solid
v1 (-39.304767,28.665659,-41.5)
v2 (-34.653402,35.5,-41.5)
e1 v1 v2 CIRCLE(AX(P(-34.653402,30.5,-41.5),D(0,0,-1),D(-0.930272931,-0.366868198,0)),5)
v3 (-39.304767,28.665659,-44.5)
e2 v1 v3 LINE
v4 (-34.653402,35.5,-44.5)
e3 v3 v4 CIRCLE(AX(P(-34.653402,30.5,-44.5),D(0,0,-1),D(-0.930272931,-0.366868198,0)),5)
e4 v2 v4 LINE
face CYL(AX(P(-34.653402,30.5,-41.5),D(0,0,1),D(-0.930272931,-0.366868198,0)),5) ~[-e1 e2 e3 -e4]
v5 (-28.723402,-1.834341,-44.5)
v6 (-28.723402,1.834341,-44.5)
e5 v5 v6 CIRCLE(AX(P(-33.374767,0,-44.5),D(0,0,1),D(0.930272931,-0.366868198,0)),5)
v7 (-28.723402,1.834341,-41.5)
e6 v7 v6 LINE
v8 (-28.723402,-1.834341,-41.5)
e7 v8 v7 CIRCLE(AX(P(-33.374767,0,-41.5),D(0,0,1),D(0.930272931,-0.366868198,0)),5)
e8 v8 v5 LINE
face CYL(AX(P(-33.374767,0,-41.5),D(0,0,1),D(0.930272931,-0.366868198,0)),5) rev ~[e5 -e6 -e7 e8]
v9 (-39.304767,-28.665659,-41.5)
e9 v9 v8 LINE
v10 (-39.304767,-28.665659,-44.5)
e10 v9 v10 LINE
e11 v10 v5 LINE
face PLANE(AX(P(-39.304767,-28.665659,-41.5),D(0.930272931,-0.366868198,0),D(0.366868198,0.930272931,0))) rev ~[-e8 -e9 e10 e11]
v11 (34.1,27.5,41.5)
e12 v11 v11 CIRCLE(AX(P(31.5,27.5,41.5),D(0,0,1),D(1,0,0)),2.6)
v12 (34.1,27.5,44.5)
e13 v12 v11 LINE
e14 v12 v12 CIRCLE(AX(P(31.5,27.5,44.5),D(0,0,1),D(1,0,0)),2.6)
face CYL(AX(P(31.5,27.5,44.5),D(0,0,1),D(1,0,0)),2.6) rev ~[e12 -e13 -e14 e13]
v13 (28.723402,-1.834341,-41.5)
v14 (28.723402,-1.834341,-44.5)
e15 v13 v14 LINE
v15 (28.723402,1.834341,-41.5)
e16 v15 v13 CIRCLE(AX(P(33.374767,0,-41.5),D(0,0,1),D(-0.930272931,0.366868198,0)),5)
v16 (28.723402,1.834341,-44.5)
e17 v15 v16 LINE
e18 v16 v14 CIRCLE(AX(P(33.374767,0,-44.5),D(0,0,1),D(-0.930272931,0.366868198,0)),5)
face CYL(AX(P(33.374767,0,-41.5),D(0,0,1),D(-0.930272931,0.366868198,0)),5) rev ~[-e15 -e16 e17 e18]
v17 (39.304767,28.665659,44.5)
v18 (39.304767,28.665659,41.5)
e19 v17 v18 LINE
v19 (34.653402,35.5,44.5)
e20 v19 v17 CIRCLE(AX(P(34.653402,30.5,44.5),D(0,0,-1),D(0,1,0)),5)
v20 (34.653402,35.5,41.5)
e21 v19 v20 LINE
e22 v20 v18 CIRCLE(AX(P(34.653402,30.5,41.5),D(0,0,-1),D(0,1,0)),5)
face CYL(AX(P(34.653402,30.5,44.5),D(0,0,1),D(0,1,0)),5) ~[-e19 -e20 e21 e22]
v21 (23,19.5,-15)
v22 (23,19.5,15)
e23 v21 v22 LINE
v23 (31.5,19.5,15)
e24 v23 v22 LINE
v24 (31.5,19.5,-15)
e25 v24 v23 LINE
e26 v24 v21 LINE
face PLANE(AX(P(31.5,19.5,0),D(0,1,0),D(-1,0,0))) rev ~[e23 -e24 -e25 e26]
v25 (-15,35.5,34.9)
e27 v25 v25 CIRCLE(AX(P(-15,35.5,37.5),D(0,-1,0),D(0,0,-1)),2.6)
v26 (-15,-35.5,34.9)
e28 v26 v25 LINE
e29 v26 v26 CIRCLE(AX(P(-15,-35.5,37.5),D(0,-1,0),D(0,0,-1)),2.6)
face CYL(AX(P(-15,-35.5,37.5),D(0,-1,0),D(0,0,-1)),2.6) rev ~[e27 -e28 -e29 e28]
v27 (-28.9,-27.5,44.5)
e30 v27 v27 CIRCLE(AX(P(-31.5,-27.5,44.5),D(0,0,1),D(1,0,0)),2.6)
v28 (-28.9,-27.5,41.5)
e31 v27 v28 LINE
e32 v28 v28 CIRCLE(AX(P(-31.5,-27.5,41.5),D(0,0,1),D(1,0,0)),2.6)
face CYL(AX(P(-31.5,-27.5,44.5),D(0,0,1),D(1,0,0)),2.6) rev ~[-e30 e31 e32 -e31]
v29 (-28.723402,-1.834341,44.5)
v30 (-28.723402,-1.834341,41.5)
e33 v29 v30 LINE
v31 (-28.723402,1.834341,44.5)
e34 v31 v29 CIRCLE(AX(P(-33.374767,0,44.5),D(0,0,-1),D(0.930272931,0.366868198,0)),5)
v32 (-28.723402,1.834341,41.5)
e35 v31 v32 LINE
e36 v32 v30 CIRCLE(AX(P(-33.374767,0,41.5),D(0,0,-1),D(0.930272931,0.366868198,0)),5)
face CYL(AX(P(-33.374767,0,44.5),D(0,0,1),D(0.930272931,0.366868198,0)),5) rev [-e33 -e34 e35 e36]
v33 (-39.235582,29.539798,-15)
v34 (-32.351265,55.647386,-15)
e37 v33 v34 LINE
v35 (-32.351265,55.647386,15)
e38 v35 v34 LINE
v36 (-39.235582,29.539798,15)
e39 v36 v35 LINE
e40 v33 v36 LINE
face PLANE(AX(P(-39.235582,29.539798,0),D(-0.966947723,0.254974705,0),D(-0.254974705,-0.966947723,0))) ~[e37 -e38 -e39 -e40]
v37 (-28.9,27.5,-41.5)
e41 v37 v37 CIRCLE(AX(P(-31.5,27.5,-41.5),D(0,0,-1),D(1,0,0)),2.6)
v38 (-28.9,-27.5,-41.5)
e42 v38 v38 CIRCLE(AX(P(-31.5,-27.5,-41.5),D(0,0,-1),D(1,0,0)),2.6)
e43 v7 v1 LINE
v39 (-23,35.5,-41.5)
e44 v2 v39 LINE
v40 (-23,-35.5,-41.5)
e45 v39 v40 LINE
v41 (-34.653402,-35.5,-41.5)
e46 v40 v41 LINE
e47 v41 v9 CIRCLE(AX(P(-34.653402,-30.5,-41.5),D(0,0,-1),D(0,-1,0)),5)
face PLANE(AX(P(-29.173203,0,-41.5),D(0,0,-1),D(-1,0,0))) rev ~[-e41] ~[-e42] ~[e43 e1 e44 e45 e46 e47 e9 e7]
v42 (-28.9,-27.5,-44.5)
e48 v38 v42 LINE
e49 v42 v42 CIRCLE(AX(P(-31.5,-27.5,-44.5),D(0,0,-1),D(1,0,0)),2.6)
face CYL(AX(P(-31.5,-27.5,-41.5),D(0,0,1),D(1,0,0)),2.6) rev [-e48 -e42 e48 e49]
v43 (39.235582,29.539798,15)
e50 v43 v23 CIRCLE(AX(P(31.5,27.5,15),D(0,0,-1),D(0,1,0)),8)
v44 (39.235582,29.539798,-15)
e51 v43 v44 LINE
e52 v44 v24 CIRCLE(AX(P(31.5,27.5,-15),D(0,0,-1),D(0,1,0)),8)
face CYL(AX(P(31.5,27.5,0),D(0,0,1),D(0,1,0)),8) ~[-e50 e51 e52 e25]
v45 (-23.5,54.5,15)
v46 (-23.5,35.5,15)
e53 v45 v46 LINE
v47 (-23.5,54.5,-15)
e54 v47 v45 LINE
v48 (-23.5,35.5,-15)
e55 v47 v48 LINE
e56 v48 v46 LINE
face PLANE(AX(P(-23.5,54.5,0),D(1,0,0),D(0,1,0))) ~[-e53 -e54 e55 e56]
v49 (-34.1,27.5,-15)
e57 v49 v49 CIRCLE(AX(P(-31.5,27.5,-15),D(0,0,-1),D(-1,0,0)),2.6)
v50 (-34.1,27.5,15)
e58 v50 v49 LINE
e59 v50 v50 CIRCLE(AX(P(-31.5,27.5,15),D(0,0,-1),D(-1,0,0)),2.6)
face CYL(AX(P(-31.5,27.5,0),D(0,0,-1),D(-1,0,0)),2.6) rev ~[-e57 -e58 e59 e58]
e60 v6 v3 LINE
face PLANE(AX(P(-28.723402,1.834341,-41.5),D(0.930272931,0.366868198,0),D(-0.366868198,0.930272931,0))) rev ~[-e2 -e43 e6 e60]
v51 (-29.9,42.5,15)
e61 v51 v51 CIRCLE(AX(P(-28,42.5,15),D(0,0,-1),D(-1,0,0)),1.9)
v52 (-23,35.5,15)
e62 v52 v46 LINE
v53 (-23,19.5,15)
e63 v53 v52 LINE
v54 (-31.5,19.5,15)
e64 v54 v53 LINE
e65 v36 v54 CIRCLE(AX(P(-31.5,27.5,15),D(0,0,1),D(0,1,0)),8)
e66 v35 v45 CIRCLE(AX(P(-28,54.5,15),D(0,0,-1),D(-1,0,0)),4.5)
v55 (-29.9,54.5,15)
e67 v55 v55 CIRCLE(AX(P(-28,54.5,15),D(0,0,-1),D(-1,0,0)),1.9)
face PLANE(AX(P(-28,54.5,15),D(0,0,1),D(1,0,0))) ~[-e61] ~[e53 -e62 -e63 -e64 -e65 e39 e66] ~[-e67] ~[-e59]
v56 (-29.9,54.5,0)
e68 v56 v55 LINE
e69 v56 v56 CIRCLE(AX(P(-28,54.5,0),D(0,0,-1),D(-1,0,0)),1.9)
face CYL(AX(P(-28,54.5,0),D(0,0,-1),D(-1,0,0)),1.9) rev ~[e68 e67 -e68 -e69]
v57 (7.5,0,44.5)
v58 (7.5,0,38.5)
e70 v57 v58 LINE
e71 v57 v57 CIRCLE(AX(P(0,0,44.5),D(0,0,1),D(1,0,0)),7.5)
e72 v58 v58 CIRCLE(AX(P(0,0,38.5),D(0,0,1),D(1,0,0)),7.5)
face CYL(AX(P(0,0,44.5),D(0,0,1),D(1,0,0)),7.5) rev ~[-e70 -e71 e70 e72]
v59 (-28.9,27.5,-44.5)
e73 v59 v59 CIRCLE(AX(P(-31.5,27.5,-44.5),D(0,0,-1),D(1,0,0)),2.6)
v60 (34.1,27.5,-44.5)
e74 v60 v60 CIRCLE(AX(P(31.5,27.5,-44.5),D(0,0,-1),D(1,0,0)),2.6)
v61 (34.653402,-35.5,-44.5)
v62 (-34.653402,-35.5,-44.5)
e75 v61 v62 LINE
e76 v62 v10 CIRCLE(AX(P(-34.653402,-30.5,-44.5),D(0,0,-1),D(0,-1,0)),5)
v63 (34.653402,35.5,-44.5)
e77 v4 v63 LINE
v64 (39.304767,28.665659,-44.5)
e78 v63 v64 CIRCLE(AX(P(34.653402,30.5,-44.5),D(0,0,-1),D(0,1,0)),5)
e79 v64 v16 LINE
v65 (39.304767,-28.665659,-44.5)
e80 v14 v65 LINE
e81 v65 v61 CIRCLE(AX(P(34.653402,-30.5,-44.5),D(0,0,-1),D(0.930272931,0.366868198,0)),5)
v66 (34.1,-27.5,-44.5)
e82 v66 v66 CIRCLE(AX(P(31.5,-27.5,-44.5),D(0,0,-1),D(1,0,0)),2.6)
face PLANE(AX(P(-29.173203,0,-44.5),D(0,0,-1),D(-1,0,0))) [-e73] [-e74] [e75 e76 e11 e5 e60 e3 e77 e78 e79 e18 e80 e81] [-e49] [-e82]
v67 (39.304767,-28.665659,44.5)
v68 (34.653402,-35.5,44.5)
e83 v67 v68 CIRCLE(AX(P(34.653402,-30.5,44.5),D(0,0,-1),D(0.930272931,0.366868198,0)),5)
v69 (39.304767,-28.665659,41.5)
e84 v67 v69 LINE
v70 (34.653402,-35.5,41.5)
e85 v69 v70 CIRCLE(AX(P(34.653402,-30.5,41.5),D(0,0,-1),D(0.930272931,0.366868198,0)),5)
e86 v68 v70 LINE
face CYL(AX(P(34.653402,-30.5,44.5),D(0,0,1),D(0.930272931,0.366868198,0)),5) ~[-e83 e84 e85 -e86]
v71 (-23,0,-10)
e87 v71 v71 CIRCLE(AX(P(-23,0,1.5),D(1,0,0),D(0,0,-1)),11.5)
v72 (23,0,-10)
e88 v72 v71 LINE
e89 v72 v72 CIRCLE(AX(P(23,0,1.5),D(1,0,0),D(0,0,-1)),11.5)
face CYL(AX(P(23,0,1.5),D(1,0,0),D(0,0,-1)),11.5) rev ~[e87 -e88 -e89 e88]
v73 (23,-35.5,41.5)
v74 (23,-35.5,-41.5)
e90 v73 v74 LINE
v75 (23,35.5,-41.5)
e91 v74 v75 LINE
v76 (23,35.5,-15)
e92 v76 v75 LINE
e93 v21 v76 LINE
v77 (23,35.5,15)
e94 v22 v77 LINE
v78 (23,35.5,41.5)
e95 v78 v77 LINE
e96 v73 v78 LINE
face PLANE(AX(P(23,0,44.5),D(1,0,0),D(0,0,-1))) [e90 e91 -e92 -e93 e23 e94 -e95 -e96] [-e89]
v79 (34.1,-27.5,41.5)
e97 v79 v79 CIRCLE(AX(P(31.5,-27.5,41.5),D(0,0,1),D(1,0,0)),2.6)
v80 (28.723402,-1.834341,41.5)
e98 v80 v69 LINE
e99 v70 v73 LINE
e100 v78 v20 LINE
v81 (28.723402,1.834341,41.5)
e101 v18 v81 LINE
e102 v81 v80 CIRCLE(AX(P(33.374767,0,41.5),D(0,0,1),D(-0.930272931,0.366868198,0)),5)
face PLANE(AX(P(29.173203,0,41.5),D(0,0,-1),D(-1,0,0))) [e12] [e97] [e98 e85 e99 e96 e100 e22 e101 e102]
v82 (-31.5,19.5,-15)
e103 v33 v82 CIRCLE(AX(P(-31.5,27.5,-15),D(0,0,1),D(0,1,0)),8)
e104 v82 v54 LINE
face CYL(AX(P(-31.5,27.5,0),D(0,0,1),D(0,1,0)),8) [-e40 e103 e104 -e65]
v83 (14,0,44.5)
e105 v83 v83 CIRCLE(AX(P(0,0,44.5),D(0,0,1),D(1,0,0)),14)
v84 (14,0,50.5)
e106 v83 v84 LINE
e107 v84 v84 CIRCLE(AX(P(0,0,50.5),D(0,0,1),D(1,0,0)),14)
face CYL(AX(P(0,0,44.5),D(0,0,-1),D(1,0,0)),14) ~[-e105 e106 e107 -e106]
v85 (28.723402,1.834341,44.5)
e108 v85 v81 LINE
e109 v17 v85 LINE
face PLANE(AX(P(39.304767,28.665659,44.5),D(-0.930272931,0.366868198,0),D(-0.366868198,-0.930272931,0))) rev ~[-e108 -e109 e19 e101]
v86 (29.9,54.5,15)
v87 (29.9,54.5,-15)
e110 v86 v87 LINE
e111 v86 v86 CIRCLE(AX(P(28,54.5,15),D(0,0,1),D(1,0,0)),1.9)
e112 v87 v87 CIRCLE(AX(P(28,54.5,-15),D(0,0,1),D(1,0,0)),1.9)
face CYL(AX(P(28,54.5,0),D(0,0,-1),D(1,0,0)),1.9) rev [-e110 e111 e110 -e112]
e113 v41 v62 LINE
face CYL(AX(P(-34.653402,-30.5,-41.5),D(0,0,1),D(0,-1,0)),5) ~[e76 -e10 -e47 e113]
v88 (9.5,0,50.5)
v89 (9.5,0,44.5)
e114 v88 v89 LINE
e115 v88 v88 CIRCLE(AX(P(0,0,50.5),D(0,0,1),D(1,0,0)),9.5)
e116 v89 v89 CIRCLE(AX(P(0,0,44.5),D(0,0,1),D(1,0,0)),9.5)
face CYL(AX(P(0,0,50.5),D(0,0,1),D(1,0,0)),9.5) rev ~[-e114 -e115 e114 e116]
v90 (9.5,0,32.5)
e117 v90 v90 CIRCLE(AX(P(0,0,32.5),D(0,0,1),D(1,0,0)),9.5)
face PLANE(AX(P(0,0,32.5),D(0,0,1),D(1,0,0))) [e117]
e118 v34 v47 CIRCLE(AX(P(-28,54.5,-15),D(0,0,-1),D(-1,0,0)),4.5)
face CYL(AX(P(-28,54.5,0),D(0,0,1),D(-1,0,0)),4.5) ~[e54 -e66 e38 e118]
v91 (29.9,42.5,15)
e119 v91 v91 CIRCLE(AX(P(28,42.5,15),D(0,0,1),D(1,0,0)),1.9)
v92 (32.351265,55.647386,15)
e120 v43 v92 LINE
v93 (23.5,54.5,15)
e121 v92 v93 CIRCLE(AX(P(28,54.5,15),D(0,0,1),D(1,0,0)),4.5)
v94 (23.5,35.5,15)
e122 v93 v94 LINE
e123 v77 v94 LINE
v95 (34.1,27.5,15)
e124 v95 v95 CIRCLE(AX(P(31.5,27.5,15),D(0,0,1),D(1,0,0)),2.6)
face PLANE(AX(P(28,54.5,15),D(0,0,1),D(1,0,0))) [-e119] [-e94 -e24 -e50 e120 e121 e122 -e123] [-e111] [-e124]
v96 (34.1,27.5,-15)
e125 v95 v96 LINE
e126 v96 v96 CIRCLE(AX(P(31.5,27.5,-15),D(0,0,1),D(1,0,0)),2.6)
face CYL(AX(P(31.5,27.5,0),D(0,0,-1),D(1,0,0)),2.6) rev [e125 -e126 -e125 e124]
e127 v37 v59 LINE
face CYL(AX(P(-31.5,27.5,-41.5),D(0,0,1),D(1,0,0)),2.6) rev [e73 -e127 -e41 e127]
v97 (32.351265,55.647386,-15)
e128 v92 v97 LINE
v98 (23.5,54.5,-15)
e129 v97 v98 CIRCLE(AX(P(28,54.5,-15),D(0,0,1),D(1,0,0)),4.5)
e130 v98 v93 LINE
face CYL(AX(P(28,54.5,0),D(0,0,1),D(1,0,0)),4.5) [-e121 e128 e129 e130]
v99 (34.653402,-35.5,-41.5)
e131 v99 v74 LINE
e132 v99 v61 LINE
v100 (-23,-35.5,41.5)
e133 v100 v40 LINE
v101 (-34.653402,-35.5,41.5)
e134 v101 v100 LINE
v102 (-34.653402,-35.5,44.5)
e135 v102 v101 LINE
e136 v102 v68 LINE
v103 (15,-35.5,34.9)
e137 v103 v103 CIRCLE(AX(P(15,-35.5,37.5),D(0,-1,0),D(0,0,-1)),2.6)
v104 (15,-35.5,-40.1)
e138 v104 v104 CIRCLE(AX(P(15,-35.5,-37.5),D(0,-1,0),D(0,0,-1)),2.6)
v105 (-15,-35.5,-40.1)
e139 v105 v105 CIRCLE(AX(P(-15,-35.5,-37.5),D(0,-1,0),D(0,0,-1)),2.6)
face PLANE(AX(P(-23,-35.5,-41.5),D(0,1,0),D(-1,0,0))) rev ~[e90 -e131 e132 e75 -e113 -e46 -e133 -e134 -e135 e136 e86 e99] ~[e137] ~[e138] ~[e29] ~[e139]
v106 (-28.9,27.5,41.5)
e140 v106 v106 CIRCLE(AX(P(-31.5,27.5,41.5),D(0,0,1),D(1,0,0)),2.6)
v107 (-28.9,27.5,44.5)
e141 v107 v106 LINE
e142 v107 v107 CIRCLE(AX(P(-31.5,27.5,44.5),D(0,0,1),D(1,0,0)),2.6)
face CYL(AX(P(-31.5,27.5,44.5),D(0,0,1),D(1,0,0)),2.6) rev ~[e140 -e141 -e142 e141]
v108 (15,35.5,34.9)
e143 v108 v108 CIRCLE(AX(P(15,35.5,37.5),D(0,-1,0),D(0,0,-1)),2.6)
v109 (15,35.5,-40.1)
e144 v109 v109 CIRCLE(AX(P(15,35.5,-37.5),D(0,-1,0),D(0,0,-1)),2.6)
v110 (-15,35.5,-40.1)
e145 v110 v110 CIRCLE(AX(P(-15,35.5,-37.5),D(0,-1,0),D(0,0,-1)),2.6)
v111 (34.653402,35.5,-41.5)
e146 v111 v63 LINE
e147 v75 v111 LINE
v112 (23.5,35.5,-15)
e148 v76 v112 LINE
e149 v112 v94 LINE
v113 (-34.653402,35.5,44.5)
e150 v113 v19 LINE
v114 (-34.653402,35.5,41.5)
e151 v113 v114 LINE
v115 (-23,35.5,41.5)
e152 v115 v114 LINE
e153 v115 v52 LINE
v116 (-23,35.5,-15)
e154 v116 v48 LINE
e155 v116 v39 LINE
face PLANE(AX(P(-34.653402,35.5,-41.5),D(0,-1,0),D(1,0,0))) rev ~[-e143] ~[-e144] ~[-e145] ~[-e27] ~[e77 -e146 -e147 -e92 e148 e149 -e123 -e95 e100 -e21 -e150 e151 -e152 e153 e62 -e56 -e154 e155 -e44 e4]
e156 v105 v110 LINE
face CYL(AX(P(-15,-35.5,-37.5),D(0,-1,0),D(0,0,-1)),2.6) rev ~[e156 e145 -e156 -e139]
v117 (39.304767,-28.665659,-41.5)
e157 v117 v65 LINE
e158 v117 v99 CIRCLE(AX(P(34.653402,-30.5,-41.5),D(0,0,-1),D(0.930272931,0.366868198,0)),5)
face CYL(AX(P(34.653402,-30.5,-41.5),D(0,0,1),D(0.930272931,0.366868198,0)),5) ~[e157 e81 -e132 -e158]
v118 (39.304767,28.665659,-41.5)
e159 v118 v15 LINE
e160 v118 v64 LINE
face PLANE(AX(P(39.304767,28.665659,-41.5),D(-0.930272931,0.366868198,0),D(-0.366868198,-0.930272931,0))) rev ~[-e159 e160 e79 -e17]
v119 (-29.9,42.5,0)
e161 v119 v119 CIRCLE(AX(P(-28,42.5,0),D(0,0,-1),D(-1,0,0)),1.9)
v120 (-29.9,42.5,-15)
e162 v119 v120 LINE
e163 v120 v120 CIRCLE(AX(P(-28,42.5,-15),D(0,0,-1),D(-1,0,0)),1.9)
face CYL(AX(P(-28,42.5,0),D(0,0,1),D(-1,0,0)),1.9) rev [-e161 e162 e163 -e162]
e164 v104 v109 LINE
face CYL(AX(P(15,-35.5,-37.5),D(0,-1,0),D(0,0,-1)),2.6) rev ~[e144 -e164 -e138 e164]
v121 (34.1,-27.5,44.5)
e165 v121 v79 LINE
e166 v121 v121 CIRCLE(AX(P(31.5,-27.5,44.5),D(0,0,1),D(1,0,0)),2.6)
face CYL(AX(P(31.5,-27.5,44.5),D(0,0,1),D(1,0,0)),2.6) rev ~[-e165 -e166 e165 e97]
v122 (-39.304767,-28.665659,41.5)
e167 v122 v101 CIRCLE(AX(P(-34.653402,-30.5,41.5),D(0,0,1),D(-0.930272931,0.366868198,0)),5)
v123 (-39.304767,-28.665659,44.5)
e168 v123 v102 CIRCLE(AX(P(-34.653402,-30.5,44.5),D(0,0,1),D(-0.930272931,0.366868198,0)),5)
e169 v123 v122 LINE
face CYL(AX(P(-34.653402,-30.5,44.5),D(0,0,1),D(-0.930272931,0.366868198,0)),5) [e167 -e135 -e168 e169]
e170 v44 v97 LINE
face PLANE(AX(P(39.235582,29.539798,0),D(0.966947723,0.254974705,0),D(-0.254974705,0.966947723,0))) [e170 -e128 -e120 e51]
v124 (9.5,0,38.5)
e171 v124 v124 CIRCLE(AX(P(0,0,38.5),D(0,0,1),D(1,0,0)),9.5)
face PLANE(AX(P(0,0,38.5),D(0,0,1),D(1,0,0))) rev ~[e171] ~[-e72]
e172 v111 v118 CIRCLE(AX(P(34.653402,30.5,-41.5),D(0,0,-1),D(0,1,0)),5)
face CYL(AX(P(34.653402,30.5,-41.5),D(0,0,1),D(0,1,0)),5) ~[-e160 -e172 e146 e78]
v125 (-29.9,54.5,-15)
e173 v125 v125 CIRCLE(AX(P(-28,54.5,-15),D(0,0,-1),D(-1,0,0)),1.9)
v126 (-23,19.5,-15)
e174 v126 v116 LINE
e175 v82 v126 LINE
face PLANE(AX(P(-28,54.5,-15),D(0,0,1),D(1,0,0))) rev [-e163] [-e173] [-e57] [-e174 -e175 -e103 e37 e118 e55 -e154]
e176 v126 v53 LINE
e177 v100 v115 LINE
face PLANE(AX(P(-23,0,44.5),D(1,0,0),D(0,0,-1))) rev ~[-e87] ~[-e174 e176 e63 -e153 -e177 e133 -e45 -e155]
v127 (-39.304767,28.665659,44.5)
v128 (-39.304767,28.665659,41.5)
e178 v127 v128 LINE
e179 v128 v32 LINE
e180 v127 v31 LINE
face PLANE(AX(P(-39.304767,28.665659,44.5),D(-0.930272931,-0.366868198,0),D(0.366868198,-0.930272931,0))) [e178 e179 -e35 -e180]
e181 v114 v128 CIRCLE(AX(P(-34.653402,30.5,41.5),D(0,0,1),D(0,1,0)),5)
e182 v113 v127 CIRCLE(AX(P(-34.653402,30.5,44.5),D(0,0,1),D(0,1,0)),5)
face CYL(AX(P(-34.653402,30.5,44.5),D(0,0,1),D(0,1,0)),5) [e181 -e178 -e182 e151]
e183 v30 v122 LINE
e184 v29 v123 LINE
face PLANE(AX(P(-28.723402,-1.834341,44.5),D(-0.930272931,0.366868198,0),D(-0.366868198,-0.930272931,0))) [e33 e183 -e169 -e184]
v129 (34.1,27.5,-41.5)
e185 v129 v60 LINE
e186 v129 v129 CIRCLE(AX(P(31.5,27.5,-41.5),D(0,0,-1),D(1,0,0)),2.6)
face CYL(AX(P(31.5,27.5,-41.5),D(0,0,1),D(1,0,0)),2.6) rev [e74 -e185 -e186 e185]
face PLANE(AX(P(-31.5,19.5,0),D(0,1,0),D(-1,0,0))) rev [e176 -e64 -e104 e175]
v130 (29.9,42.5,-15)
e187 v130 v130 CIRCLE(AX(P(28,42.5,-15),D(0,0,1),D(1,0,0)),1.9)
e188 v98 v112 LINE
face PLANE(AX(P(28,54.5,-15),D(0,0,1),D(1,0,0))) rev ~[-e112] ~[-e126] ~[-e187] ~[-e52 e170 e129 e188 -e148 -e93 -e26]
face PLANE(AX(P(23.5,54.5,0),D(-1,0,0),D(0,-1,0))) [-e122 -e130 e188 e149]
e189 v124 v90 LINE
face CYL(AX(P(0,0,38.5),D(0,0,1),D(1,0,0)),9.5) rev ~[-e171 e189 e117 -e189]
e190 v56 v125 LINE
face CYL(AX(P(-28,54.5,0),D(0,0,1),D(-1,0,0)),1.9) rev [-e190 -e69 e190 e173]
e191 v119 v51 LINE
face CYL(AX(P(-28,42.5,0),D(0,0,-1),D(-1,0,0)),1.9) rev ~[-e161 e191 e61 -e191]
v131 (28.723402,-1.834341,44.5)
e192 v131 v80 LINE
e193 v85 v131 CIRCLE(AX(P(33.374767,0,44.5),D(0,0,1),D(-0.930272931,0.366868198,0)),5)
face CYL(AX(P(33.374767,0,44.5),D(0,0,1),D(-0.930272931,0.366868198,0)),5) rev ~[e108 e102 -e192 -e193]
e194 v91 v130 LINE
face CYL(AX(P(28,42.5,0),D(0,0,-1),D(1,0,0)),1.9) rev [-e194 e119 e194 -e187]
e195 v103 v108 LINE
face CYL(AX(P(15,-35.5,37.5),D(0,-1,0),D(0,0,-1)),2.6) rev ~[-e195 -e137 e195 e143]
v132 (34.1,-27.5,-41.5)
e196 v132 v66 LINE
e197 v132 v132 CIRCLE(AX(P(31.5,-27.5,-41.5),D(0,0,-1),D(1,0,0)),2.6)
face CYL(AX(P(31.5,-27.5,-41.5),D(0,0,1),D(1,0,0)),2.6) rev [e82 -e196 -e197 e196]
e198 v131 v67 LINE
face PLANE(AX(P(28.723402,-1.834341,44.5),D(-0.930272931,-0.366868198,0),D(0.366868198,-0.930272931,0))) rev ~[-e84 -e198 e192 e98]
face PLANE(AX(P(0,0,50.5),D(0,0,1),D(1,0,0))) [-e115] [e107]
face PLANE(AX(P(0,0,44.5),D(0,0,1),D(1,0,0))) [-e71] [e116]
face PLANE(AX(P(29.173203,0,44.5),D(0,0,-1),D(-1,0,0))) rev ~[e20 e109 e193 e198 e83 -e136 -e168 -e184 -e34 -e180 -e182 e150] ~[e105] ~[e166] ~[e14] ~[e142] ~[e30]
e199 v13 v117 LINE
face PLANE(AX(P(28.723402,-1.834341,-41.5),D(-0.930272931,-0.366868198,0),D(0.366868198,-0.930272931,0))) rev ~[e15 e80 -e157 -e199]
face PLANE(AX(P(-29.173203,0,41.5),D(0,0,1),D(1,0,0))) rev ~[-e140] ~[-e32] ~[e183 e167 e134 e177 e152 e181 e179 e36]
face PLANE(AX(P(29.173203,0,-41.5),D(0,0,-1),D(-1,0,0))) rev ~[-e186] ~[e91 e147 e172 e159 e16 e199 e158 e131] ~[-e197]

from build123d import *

# Parameters (mm, degrees)
SKETCH_1_W          = 46
SKETCH_1_H          = 89
EXTRUDE_1_DEPTH     = 35.5
SKETCH_3_R          = 2.6
EXTRUDE_2_DEPTH     = 3
EXTRUDE_START       = -3
SKETCH_4_R          = 2.6
EXTRUDE_3_DEPTH     = 3
SKETCH_5_R          = 14
EXTRUDE_4_DEPTH     = 6
SKETCH_6_R          = 11.5
CUT_EXTRUDE_1_DEPTH = 88.954242748
SKETCH_7_R          = 2.6
EXTRUDE_5_DEPTH     = 15
SKETCH_8_R          = 1.9
SKETCH_8_R_2        = 4.5
EXTRUDE_6_DEPTH     = 15
SKETCH_9_R          = 2.6
CUT_EXTRUDE_2_DEPTH = 115.249255194
SKETCH_10_R         = 9.5
CUT_EXTRUDE_3_DEPTH = 6
SKETCH_11_R         = 7.5
CUT_EXTRUDE_4_DEPTH = 6
SKETCH_12_R         = 9.5
CUT_EXTRUDE_5_DEPTH = 6


with BuildPart() as part:
    # 草图1 → 凸台-拉伸1 (new, symmetric)
    with BuildSketch(Plane(origin=(0, 0, 0), x_dir=(1, 0, 0), z_dir=(0, 1, 0))):
        Rectangle(SKETCH_1_W, SKETCH_1_H)
    extrude(amount=EXTRUDE_1_DEPTH, both=True)

    # 草图3 → 凸台-拉伸2 (add)
    # profile 1 of 2: a face of its own
    with BuildSketch(Plane.XY.offset(44.5)):
        with BuildLine():
            Line((23, 35.5), (34.653402281, 35.5))
            ThreePointArc((34.653402281, 35.5), (38.786905937, 33.313209471), (39.304766934, 28.66565901))
            Line((39.304766934, 28.66565901), (28.72340208, 1.83434099))
            ThreePointArc((28.72340208, 1.83434099), (28.374766733, 0), (28.72340208, -1.83434099))
            Line((28.72340208, -1.83434099), (39.304766934, -28.66565901))
            ThreePointArc((39.304766934, -28.66565901), (38.786905937, -33.313209471), (34.653402281, -35.5))
            Line((34.653402281, -35.5), (23, -35.5))
            Line((23, -35.5), (23, 35.5))
        make_face()
        with Locations((31.5, 27.5)):
            Circle(SKETCH_3_R, mode=Mode.SUBTRACT)
        with Locations((31.5, -27.5)):
            Circle(SKETCH_3_R, mode=Mode.SUBTRACT)
    # profile 2 of 2: a face of its own
    with BuildSketch(Plane.XY.offset(44.5)):
        with BuildLine():
            Line((-23, -35.5), (-23, 35.5))
            Line((-23, 35.5), (-34.653402281, 35.5))
            ThreePointArc((-34.653402281, 35.5), (-38.786905937, 33.313209471), (-39.304766934, 28.66565901))
            Line((-39.304766934, 28.66565901), (-28.72340208, 1.83434099))
            ThreePointArc((-28.72340208, 1.83434099), (-28.374766733, 0), (-28.72340208, -1.83434099))
            Line((-28.72340208, -1.83434099), (-39.304766934, -28.66565901))
            ThreePointArc((-39.304766934, -28.66565901), (-38.786905937, -33.313209471), (-34.653402281, -35.5))
            Line((-34.653402281, -35.5), (-23, -35.5))
        make_face()
        with Locations((-31.5, -27.5)):
            Circle(SKETCH_3_R, mode=Mode.SUBTRACT)
        with Locations((-31.5, 27.5)):
            Circle(SKETCH_3_R, mode=Mode.SUBTRACT)
    extrude(amount=-EXTRUDE_2_DEPTH)

    # 草图4 → 凸台-拉伸3 (add)
    # profile 1 of 2: a face of its own
    with BuildSketch(Plane(origin=(0, 0, -44.5), x_dir=(-1, 0, 0), z_dir=(0, 0, -1)).offset(EXTRUDE_START)):
        with BuildLine():
            Line((39.304766934, -28.66565901), (28.72340208, -1.83434099))
            ThreePointArc((28.72340208, -1.83434099), (28.374766733, 0), (28.72340208, 1.83434099))
            Line((28.72340208, 1.83434099), (39.304766934, 28.66565901))
            ThreePointArc((39.304766934, 28.66565901), (38.786905937, 33.313209471), (34.653402281, 35.5))
            Line((34.653402281, 35.5), (23, 35.5))
            Line((23, 35.5), (23, -35.5))
            Line((23, -35.5), (34.653402281, -35.5))
            ThreePointArc((34.653402281, -35.5), (38.786905937, -33.313209471), (39.304766934, -28.66565901))
        make_face()
        with Locations(Location((31.5, 27.5, 0), (0, 0, 180))):
            Circle(SKETCH_4_R, mode=Mode.SUBTRACT)
        with Locations(Location((31.5, -27.5, 0), (0, 0, 180))):
            Circle(SKETCH_4_R, mode=Mode.SUBTRACT)
    # profile 2 of 2: a face of its own
    with BuildSketch(Plane(origin=(0, 0, -44.5), x_dir=(-1, 0, 0), z_dir=(0, 0, -1)).offset(EXTRUDE_START)):
        with BuildLine():
            Line((-23, 35.5), (-34.653402281, 35.5))
            ThreePointArc((-34.653402281, 35.5), (-38.786905937, 33.313209471), (-39.304766934, 28.66565901))
            Line((-39.304766934, 28.66565901), (-28.72340208, 1.83434099))
            ThreePointArc((-28.72340208, 1.83434099), (-28.374766733, 0), (-28.72340208, -1.83434099))
            Line((-28.72340208, -1.83434099), (-39.304766934, -28.66565901))
            ThreePointArc((-39.304766934, -28.66565901), (-38.786905937, -33.313209471), (-34.653402281, -35.5))
            Line((-34.653402281, -35.5), (-23, -35.5))
            Line((-23, -35.5), (-23, 35.5))
        make_face()
        with Locations(Location((-31.5, -27.5, 0), (0, 0, 180))):
            Circle(SKETCH_4_R, mode=Mode.SUBTRACT)
        with Locations(Location((-31.5, 27.5, 0), (0, 0, 180))):
            Circle(SKETCH_4_R, mode=Mode.SUBTRACT)
    extrude(amount=EXTRUDE_3_DEPTH)

    # 草图5 → 凸台-拉伸4 (add)
    with BuildSketch(Plane.XY.offset(44.5)):
        Circle(SKETCH_5_R)
    extrude(amount=EXTRUDE_4_DEPTH)

    # 草图6 → 切除-拉伸1 (cut, through all)
    with BuildSketch(Plane(origin=(23, 0, 0), x_dir=(0, 0, -1), z_dir=(1, 0, 0))):
        with Locations((-1.5, 0)):
            Circle(SKETCH_6_R)
    extrude(amount=-CUT_EXTRUDE_1_DEPTH, mode=Mode.SUBTRACT)

    # 草图7 → 凸台-拉伸5 (add, symmetric)
    with BuildSketch(Plane.XY):
        with BuildLine():
            Line((23, 19.5), (23, 35.5))
            Line((23, 35.5), (31.5, 35.5))
            ThreePointArc((31.5, 35.5), (39.5, 27.5), (31.5, 19.5))
            Line((31.5, 19.5), (23, 19.5))
        make_face()
        with Locations((31.5, 27.5)):
            Circle(SKETCH_7_R, mode=Mode.SUBTRACT)
    extrude_5 = extrude(amount=EXTRUDE_5_DEPTH, both=True)

    # 镜向1: 凸台-拉伸5 across plane
    add(extrude_5.mirror(Plane(origin=(0, 0, 0), x_dir=(0, 0, 1), z_dir=(1, 0, 0))))

    # 草图8 → 凸台-拉伸6 (add, symmetric)
    # profile 1 of 2: a face of its own
    with BuildSketch(Plane.XY):
        with BuildLine():
            Line((39.235581788, 29.539797639), (32.351264755, 55.647386172))
            ThreePointArc((32.351264755, 55.647386172), (32.46266128, 55.078493129), (32.5, 54.5))
            ThreePointArc((32.5, 54.5), (28, 50), (23.5, 54.5))
            Line((23.5, 54.5), (23.5, 35.5))
            Line((23.5, 35.5), (31.5, 35.5))
            ThreePointArc((31.5, 35.5), (36.382705136, 33.837127942), (39.235581788, 29.539797639))
        make_face()
        with Locations((28, 42.5)):
            Circle(SKETCH_8_R, mode=Mode.SUBTRACT)
    # profile 2 of 2: a face of its own
    with BuildSketch(Plane.XY):
        with Locations((28, 54.5)):
            Circle(SKETCH_8_R_2)
        with Locations((28, 54.5)):
            Circle(SKETCH_8_R, mode=Mode.SUBTRACT)
    extrude_6 = extrude(amount=EXTRUDE_6_DEPTH, both=True)

    # 镜向2: 凸台-拉伸5, 凸台-拉伸6 across plane
    add(extrude_5.mirror(Plane(origin=(0, 0, 0), x_dir=(0, 0, 1), z_dir=(1, 0, 0))))
    add(extrude_6.mirror(Plane(origin=(0, 0, 0), x_dir=(0, 0, 1), z_dir=(1, 0, 0))))

    # 草图9 → 切除-拉伸2 (cut, through all)
    with BuildSketch(Plane.XZ.offset(35.5)):
        with Locations(Location((15, -37.5, 0), (0, 0, 270))):
            Circle(SKETCH_9_R)
        with Locations(Location((-15, -37.5, 0), (0, 0, 270))):
            Circle(SKETCH_9_R)
        with Locations(Location((-15, 37.5, 0), (0, 0, 270))):
            Circle(SKETCH_9_R)
        with Locations(Location((15, 37.5, 0), (0, 0, 270))):
            Circle(SKETCH_9_R)
    extrude(amount=-CUT_EXTRUDE_2_DEPTH, mode=Mode.SUBTRACT)

    # 草图10 → 切除-拉伸3 (cut)
    with BuildSketch(Plane.XY.offset(50.5)):
        Circle(SKETCH_10_R)
    extrude(amount=-CUT_EXTRUDE_3_DEPTH, mode=Mode.SUBTRACT)

    # 草图11 → 切除-拉伸4 (cut)
    with BuildSketch(Plane.XY.offset(44.5)):
        Circle(SKETCH_11_R)
    extrude(amount=-CUT_EXTRUDE_4_DEPTH, mode=Mode.SUBTRACT)

    # 草图12 → 切除-拉伸5 (cut)
    with BuildSketch(Plane.XY.offset(38.5)):
        Circle(SKETCH_12_R)
    extrude(amount=-CUT_EXTRUDE_5_DEPTH, mode=Mode.SUBTRACT)


solid = part.part
